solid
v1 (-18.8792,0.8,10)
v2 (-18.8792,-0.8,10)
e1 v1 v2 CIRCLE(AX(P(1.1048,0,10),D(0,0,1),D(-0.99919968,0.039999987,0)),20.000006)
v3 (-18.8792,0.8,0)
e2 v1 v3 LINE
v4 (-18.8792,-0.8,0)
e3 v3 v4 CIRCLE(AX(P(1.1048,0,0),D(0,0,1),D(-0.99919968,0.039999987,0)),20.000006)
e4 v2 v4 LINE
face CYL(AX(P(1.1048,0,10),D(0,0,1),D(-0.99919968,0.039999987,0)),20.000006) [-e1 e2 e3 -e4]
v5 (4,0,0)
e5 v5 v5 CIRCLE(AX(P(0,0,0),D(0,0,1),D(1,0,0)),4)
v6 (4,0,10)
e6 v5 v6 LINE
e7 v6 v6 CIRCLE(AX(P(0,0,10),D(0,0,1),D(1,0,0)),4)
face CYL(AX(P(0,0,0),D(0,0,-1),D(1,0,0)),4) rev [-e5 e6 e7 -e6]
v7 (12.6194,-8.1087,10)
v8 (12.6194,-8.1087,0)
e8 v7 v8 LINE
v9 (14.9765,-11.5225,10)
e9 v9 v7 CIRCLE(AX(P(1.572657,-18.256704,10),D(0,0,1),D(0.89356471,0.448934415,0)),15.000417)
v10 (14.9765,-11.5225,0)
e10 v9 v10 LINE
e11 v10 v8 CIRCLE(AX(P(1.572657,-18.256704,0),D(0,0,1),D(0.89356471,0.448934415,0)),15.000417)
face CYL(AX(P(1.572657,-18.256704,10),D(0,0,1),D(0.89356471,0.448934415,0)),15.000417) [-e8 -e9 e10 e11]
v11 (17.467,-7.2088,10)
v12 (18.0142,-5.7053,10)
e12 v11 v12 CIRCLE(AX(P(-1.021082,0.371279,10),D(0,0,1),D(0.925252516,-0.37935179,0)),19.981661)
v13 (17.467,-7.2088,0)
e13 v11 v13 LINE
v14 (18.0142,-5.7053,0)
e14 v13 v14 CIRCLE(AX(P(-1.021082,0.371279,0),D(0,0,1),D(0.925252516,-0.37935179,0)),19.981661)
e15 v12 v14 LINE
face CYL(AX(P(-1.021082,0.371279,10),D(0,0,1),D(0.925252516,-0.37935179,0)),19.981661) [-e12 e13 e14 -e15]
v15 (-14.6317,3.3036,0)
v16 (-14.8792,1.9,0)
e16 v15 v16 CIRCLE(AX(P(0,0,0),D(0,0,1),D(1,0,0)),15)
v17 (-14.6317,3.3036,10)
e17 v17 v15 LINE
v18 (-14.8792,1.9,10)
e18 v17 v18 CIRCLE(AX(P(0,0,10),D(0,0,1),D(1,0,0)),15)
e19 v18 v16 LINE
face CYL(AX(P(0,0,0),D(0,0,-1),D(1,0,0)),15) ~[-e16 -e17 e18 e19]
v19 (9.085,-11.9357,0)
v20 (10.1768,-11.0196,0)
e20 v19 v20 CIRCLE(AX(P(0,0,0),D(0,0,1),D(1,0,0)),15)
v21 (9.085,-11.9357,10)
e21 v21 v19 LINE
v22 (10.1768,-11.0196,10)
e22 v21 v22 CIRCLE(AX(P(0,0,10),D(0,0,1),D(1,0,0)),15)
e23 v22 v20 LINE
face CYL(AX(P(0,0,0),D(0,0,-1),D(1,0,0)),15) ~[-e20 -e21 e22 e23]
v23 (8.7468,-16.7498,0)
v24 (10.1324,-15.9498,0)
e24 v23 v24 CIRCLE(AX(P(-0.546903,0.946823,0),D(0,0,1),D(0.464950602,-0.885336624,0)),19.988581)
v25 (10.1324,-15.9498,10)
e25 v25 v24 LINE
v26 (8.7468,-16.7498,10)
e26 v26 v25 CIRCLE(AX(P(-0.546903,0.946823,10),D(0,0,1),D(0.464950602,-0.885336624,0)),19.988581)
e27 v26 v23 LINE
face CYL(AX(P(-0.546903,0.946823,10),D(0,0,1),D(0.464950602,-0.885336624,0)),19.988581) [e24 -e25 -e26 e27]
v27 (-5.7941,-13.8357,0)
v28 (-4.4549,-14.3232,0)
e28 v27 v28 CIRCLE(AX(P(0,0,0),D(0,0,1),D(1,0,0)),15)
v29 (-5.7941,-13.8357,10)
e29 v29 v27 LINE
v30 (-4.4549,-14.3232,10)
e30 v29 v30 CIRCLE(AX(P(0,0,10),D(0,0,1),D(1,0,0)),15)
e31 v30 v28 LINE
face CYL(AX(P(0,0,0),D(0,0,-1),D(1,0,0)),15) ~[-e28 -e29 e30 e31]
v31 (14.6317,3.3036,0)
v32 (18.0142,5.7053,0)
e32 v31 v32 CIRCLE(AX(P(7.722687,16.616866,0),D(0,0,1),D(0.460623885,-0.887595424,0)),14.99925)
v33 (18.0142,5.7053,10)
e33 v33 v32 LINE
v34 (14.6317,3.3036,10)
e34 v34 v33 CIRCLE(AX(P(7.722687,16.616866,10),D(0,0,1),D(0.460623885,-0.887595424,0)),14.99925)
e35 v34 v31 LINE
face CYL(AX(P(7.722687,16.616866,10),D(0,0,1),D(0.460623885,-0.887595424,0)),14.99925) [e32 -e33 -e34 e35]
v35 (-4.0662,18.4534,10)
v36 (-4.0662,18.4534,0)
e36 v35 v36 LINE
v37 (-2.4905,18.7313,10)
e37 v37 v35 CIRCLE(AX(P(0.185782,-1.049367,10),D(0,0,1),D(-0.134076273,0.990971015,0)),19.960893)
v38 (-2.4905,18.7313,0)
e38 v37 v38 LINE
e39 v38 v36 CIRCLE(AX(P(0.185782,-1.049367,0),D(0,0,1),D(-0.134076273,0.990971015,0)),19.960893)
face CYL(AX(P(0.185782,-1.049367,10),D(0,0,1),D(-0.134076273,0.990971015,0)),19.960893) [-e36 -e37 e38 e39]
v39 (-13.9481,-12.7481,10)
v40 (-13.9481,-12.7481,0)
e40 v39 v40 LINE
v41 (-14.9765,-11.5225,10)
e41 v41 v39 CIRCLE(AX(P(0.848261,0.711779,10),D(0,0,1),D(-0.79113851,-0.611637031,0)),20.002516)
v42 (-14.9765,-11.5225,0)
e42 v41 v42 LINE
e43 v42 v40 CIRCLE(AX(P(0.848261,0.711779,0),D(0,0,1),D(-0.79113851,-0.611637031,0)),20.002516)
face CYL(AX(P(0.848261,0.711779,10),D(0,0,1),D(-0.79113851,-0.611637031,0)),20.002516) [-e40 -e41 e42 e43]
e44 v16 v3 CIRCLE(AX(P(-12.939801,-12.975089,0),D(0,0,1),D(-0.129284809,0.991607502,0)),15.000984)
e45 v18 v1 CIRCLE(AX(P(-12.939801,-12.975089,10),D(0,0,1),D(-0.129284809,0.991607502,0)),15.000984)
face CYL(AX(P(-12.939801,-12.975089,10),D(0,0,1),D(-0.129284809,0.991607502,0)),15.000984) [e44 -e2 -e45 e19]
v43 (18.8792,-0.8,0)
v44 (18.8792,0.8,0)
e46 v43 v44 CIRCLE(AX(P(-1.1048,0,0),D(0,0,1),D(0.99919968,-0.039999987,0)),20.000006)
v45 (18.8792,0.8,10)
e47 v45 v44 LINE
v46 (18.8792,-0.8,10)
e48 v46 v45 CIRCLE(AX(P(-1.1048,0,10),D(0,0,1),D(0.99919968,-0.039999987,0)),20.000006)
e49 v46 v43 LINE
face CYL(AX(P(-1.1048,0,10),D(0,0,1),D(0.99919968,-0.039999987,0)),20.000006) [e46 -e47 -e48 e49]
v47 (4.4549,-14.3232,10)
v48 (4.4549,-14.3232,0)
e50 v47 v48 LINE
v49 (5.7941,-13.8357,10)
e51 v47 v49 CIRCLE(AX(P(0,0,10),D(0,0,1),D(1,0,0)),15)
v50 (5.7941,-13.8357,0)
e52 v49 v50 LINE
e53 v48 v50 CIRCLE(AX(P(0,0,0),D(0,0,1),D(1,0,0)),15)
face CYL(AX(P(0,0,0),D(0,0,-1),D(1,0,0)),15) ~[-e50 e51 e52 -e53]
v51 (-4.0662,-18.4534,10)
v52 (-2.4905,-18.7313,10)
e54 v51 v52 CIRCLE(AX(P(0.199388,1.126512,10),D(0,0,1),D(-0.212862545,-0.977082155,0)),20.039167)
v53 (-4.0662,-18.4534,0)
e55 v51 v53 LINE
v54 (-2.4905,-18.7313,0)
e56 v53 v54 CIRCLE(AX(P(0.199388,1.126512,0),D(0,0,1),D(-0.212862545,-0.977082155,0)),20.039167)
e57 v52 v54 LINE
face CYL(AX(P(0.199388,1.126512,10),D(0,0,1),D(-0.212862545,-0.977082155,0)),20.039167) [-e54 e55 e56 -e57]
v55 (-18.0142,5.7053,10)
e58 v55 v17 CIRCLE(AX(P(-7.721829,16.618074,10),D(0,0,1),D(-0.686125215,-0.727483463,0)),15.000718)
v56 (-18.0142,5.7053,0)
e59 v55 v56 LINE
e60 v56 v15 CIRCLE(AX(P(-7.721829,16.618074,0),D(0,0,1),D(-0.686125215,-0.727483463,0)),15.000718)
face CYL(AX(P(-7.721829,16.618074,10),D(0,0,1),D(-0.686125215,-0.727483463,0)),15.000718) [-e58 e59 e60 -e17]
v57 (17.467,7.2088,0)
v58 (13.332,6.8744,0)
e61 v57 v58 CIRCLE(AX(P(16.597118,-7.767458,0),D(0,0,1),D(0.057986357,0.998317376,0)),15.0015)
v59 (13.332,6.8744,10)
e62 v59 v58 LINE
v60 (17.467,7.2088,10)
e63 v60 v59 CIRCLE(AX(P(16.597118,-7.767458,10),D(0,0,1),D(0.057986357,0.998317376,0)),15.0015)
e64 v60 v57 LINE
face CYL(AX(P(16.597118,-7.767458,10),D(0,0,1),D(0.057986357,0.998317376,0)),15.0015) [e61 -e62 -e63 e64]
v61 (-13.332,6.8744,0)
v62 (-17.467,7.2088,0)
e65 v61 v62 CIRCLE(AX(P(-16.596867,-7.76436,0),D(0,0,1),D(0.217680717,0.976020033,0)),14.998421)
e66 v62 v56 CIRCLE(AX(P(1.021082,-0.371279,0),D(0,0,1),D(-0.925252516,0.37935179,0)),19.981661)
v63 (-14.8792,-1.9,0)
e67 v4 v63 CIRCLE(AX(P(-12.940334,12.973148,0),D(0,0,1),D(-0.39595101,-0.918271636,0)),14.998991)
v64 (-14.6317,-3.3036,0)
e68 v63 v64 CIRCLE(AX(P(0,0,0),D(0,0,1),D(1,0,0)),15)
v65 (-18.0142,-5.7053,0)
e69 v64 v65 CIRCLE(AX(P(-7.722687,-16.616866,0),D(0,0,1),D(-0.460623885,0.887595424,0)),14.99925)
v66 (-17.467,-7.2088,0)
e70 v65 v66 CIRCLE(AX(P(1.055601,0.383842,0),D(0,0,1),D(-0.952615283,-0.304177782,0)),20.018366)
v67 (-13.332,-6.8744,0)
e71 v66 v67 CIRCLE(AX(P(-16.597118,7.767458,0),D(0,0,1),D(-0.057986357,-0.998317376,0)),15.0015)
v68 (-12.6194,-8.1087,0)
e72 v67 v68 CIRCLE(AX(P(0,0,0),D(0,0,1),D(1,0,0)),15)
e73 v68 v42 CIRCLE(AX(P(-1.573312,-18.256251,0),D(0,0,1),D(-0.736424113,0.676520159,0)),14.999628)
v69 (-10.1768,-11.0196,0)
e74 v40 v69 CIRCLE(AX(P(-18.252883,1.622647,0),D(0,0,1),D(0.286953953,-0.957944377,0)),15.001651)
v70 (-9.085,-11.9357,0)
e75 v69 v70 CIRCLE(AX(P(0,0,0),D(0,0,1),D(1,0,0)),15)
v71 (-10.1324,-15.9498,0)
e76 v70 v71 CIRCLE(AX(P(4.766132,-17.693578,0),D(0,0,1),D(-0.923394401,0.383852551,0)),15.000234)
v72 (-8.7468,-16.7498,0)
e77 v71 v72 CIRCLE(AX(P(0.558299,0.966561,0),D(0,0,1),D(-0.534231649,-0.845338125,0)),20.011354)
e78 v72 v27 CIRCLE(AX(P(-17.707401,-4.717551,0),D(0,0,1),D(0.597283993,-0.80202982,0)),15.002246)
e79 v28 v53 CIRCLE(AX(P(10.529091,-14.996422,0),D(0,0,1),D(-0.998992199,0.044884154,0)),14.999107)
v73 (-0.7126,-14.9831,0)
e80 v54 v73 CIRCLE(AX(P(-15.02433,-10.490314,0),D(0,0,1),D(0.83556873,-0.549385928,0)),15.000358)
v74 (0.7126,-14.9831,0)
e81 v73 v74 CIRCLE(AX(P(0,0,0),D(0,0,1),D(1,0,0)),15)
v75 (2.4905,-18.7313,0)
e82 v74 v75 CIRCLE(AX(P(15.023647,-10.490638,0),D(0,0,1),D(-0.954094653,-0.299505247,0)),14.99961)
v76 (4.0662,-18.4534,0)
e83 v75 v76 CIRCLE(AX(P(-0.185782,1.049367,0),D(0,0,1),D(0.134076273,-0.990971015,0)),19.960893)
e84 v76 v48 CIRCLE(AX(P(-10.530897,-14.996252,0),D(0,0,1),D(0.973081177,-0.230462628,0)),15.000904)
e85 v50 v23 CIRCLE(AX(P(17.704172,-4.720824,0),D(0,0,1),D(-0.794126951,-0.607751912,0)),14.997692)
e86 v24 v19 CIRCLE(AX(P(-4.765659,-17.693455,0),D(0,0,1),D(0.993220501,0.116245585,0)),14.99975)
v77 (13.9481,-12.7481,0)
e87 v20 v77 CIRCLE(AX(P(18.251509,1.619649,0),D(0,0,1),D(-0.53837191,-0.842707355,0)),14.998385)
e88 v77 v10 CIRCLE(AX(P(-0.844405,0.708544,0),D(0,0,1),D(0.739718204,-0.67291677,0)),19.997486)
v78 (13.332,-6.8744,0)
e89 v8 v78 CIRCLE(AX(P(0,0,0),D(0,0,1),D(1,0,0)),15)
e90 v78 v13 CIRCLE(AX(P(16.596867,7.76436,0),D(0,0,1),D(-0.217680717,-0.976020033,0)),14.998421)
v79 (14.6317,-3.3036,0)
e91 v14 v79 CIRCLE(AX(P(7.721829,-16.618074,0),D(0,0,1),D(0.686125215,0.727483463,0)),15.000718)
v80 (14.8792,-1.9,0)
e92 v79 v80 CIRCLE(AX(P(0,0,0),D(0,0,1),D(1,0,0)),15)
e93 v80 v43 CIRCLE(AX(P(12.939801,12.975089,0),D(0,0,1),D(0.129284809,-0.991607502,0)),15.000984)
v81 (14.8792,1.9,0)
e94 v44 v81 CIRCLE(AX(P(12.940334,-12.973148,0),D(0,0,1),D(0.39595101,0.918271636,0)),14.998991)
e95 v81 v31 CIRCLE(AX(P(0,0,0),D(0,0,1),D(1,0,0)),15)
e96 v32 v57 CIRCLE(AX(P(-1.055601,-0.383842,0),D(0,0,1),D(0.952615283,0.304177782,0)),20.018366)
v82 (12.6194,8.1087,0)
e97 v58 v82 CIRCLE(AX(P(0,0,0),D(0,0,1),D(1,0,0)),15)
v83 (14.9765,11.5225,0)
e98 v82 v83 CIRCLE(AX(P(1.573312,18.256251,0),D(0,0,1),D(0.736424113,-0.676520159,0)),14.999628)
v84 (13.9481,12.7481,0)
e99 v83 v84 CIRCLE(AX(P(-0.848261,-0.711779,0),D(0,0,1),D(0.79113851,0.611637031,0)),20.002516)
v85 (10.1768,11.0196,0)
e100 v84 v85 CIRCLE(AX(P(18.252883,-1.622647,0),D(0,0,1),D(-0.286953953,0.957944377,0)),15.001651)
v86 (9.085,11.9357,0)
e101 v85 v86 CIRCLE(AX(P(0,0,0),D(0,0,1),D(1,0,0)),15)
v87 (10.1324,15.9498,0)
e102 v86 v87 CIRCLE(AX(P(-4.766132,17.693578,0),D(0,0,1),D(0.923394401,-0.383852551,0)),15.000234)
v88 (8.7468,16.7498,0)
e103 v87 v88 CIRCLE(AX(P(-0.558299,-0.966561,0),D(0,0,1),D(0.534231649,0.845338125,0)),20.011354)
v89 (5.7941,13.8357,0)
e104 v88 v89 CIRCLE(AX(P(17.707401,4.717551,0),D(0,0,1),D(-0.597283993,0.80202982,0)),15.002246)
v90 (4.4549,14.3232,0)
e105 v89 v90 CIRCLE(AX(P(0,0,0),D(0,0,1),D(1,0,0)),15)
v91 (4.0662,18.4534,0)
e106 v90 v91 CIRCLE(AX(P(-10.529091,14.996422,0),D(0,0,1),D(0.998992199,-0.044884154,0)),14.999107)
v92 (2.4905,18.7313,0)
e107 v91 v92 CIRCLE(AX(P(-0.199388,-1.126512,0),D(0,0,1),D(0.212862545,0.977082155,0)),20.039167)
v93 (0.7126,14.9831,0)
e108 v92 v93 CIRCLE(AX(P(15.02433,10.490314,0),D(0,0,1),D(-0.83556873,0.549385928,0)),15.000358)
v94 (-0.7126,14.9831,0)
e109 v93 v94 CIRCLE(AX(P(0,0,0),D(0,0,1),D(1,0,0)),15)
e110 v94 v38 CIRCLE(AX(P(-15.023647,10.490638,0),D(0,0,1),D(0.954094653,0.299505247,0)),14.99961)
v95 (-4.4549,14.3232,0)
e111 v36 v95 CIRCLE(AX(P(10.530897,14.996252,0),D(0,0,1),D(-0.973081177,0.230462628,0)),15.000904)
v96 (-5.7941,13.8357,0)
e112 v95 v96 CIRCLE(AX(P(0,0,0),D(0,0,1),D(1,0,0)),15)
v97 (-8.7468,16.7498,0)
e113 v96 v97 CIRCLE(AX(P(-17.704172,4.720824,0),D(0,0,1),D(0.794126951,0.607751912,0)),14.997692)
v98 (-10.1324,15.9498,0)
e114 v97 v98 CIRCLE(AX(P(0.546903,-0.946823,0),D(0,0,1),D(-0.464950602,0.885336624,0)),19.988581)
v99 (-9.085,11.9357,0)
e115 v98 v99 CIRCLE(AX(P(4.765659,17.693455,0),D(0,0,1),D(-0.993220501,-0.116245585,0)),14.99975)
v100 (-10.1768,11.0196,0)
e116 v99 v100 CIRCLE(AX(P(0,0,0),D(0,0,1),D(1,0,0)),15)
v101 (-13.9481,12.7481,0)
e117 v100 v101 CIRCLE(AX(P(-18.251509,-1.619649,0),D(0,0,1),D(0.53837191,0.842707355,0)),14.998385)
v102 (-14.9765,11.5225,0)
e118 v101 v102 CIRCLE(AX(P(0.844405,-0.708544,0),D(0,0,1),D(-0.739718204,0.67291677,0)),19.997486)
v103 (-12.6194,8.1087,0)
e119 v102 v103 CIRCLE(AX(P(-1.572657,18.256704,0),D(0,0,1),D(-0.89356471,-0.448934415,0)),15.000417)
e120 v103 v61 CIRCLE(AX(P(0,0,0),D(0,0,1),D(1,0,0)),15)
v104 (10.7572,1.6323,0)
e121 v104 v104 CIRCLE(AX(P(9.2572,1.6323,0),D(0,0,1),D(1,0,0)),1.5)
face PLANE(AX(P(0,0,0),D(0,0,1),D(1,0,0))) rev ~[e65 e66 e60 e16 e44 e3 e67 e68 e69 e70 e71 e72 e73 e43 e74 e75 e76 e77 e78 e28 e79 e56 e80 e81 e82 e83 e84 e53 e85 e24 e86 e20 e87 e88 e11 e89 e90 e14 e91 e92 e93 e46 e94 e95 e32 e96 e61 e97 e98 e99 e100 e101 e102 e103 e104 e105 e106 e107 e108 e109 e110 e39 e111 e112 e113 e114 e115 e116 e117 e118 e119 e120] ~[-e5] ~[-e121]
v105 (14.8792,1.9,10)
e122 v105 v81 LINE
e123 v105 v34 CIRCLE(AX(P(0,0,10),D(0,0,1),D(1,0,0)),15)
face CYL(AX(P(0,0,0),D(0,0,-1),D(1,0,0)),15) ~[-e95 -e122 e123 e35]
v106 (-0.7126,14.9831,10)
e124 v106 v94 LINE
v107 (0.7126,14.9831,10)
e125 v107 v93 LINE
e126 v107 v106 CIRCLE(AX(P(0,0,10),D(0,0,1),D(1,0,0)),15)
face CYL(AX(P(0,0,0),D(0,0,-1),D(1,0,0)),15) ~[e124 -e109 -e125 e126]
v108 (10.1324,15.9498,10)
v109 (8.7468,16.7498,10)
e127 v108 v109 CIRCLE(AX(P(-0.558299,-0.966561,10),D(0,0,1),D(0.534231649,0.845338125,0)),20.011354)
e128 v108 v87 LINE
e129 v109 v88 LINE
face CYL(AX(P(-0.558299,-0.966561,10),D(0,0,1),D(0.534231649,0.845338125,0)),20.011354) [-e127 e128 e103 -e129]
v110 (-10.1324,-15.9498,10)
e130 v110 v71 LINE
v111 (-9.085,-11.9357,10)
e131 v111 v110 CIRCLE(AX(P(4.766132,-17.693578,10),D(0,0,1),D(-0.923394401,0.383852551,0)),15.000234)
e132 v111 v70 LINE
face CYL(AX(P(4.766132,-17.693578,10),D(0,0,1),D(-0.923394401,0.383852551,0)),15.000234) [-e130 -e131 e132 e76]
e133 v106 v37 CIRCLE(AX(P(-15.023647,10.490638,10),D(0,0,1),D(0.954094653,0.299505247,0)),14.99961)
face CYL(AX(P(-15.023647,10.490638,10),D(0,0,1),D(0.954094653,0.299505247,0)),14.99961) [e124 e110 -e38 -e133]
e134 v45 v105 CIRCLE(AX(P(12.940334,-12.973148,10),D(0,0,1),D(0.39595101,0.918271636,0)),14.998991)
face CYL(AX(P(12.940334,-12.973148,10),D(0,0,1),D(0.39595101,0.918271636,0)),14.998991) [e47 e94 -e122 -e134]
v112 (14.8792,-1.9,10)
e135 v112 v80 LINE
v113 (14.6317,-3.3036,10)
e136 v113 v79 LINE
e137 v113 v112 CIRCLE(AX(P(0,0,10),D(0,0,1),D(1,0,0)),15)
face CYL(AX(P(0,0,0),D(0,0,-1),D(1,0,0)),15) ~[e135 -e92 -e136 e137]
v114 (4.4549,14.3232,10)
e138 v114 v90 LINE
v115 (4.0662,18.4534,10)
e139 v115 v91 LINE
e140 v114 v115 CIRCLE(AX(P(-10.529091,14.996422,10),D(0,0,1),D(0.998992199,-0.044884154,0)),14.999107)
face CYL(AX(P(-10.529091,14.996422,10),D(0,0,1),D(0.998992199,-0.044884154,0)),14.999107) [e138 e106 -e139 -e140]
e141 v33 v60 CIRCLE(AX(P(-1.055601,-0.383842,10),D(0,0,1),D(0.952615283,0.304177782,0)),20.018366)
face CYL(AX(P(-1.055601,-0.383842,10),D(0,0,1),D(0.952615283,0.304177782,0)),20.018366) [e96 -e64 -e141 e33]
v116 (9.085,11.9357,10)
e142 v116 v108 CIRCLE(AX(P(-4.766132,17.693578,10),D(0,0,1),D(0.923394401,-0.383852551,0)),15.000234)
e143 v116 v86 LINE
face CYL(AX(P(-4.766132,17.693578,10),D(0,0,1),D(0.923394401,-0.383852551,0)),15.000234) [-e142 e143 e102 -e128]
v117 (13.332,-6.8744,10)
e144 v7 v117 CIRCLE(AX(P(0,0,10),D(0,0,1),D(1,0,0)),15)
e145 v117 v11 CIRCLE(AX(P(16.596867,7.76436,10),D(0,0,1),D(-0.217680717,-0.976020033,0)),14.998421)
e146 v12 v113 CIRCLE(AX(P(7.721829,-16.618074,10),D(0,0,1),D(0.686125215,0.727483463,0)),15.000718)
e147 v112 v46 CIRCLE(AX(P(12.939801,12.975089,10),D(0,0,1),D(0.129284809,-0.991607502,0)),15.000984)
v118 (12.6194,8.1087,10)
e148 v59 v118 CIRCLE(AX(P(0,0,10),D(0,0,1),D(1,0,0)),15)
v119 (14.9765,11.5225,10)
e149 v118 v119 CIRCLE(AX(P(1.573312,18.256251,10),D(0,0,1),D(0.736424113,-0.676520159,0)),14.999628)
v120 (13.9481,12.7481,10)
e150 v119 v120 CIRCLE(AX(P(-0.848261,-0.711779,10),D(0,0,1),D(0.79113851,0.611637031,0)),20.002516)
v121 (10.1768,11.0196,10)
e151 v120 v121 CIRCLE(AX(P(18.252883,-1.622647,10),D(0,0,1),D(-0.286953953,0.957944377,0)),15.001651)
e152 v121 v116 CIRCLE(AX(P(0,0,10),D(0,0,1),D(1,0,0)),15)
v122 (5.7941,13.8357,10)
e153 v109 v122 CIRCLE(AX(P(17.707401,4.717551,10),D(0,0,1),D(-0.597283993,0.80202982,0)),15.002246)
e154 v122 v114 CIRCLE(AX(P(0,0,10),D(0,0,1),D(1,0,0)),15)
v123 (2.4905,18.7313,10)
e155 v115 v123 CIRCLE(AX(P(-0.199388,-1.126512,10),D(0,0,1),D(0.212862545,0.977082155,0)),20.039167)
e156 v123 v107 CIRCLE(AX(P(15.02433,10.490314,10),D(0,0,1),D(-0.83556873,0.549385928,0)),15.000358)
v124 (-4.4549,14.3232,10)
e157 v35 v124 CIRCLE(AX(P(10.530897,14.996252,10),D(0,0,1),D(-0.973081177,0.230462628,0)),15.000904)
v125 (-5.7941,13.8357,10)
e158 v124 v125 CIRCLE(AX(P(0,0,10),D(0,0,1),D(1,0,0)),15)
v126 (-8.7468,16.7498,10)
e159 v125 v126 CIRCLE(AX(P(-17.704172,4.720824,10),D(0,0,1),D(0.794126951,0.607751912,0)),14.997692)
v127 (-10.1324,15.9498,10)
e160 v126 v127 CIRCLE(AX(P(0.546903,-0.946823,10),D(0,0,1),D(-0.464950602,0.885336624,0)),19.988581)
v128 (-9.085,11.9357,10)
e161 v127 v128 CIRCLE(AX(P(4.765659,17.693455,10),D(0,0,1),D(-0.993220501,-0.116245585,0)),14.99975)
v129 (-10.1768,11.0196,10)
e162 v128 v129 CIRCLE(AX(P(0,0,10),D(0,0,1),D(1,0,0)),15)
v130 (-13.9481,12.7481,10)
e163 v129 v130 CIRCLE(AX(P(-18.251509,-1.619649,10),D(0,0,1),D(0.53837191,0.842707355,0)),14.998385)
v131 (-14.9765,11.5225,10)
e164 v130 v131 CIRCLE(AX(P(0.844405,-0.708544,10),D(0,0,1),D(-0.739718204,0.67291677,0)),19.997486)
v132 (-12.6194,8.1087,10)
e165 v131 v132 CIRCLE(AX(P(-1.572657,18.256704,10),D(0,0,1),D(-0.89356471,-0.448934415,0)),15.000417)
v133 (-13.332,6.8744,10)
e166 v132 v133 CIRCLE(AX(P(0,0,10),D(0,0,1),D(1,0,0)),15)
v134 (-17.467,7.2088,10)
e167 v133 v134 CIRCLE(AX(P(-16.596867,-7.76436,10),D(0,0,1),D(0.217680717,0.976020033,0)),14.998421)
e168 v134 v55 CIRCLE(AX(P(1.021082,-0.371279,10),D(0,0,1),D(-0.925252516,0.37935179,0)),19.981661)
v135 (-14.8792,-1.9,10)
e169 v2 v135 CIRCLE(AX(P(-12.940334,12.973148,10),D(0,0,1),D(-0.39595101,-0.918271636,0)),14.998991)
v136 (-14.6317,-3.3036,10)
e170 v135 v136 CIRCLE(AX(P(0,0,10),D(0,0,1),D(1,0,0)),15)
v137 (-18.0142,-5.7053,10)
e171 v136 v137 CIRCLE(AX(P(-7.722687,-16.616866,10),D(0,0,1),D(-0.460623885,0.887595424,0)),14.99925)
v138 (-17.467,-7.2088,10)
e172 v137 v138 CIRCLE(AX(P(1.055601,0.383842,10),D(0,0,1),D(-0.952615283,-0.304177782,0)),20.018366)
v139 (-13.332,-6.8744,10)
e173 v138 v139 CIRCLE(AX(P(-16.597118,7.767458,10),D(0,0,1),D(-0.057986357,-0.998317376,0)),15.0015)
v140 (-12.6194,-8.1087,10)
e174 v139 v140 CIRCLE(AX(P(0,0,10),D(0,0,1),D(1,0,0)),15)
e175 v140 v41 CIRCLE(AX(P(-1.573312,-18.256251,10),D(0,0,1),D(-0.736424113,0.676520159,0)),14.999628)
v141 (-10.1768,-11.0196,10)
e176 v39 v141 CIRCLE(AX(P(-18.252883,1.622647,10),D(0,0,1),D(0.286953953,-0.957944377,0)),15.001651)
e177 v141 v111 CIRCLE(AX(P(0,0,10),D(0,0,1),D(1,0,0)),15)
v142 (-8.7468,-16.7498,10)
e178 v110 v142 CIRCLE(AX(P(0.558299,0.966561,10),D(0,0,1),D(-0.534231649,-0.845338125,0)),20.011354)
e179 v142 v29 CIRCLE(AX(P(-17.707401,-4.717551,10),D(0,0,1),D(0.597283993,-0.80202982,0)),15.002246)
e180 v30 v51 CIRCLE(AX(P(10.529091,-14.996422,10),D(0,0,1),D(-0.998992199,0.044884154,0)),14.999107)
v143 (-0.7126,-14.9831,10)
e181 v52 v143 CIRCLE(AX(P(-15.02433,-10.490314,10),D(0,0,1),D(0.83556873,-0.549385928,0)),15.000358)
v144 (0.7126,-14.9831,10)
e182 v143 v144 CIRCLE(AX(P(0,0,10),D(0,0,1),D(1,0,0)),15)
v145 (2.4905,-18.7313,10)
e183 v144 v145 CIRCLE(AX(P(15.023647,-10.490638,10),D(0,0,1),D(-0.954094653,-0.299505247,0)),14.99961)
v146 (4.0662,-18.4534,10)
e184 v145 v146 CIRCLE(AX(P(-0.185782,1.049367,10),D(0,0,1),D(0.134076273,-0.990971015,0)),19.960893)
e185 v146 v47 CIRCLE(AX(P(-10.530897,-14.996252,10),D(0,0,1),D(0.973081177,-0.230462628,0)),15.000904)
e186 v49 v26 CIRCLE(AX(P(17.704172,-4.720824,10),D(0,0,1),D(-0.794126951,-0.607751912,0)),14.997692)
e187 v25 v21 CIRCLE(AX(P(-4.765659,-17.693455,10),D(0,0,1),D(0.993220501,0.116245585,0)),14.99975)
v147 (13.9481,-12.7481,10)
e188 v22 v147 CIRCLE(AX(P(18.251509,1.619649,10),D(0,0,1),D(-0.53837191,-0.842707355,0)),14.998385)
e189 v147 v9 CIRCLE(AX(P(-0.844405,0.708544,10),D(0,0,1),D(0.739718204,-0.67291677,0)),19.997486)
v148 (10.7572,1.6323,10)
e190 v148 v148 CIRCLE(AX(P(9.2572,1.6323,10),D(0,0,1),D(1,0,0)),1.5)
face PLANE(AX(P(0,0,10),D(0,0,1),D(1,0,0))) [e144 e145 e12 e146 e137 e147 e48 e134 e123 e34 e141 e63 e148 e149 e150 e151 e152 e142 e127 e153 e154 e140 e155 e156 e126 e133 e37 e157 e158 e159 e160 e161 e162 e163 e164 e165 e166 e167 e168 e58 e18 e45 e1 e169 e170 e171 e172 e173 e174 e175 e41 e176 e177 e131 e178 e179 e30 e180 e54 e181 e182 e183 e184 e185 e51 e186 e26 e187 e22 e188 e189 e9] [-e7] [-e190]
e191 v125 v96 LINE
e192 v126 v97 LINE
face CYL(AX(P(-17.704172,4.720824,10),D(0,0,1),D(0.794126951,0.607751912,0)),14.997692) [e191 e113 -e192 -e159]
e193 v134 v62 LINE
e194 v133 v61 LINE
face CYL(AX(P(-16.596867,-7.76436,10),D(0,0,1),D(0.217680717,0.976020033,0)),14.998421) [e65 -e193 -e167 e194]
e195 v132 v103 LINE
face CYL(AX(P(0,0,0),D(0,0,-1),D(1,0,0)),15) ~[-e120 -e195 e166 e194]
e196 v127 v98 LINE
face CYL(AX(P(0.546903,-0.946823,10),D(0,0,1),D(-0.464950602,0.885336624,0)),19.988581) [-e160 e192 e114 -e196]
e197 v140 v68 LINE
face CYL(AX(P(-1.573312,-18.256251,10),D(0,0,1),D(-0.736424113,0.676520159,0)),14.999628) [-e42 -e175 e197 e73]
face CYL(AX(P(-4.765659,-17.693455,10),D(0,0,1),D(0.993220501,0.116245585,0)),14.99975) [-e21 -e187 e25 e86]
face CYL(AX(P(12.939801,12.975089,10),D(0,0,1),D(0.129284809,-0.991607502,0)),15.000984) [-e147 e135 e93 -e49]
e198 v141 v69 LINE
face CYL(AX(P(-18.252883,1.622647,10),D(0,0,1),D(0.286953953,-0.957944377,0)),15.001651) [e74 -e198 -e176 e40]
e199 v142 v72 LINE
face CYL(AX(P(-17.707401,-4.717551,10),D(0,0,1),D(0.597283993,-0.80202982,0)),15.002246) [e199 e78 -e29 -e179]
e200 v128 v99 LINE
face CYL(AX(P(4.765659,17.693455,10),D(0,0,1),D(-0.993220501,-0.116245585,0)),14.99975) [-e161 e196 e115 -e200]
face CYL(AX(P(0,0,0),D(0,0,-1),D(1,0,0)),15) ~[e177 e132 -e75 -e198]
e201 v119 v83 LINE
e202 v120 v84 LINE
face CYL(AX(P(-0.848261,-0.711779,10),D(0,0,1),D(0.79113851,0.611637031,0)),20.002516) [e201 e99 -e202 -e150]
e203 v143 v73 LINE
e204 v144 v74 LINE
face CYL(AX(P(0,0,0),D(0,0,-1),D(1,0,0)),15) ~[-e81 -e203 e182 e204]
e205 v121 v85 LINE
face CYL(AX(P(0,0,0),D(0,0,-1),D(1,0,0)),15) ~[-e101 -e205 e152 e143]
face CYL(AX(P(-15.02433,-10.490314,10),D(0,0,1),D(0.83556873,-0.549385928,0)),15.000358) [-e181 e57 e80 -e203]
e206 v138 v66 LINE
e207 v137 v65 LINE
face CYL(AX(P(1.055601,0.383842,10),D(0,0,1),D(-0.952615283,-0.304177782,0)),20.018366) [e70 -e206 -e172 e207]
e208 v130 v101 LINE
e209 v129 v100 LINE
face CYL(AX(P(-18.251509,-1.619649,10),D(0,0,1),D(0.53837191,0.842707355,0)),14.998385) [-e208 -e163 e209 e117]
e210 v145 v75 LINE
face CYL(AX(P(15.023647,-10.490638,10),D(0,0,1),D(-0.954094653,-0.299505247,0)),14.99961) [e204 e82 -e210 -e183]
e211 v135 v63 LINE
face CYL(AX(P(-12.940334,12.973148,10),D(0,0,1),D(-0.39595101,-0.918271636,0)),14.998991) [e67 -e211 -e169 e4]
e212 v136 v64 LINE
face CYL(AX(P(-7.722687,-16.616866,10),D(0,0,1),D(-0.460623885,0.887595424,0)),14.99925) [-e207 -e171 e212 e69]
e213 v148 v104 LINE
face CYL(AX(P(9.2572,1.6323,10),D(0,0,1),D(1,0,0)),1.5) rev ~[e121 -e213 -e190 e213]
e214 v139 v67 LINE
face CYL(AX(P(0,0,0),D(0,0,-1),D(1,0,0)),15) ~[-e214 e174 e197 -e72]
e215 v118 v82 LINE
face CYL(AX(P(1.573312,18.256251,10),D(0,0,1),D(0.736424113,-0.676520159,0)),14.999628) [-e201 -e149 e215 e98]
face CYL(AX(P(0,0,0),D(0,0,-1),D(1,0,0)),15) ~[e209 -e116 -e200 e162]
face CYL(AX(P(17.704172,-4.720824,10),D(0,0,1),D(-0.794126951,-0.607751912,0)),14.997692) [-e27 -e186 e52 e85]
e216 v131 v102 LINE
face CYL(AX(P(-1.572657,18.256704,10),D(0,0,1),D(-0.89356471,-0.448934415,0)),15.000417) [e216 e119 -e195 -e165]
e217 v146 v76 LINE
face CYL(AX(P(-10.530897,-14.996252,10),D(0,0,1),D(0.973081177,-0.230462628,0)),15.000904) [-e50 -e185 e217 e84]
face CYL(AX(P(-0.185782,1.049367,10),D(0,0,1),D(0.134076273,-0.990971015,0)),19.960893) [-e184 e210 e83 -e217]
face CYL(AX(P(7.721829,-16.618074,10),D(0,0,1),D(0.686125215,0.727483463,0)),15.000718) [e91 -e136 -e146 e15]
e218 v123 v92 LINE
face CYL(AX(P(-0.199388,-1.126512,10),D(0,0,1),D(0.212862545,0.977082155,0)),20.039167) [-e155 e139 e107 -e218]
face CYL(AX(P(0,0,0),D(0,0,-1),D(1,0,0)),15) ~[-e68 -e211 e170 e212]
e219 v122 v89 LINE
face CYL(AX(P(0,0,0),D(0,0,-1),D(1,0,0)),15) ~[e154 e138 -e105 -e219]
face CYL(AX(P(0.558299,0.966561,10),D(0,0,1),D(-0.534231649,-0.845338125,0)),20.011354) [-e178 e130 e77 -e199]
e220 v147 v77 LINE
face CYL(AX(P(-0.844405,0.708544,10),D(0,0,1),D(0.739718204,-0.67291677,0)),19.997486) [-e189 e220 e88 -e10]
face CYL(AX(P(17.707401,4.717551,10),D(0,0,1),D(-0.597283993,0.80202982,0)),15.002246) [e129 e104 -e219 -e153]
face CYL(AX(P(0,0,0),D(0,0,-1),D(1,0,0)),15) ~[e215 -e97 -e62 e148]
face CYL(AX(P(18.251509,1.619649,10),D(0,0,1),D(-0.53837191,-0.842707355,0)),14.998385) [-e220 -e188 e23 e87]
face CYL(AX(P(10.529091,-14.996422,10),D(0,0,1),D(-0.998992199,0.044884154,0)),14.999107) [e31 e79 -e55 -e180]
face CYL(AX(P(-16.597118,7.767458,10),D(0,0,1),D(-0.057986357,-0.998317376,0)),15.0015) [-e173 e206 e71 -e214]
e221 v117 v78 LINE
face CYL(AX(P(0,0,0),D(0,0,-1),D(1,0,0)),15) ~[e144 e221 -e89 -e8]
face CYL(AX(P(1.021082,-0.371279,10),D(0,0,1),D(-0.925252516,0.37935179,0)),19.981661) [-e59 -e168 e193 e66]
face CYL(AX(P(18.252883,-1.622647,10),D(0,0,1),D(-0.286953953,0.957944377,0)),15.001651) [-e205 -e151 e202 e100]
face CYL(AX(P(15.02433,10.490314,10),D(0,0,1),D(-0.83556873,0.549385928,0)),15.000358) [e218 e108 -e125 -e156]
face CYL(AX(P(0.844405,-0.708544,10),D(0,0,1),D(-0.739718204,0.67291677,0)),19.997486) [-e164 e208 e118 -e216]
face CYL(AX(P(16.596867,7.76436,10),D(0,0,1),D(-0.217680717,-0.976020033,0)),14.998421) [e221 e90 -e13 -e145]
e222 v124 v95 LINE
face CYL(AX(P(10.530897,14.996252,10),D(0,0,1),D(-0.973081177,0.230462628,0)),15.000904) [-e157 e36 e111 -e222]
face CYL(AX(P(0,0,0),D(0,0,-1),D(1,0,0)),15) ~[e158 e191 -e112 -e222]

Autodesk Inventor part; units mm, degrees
ref_plane "YZ Plane" through (0, 0, 0) normal (1, 0, 0) x (0, 1, 0)
ref_plane "XZ Plane" through (0, 0, 0) normal (0, 1, 0) x (-1, 0, 0)
ref_plane "XY Plane" through (0, 0, 0) normal (0, 0, 1) x (1, 0, 0)
sketch "Sketch1" plane through (0, 0, 0) normal (0, 0, 1) x (1, 0, 0)
  circle A0 centre (0, 0) radius 15
  circle A1 centre (0, 0) radius 4
  dimension "d0" = 30
  dimension "d1" = 8
extrude "Extrusion1" add sketch "Sketch1" along normal blind 10
sketch "Sketch3" plane through (0, 0, 10) normal (0, 0, 1) x (1, 0, 0)
  line L0 (0, 0) -> (25, 0) construction
  arc A0 (18.8792, 0.8) -> (14.8792, 1.9) centre (12.94, -12.9741) ccw
  circle A1 centre (0, 0) radius 15 projected
  arc A2 (18.8792, -0.8) -> (18.8792, 0.8) centre (-1.1048, 0) ccw
  arc A3 (14.8792, -1.9) -> (18.8792, -0.8) centre (12.94, 12.9741) ccw
  arc A4 (14.8792, -1.9) -> (14.8792, 1.9) centre (0, 0) ccw
  arc A5 (17.467, 7.2088) -> (13.332, 6.8744) centre (16.5971, -7.7659) ccw
  arc A6 (18.0142, 5.7053) -> (17.467, 7.2088) centre (-1.0382, -0.3779) ccw
  arc A7 (14.6317, 3.3036) -> (18.0142, 5.7053) centre (7.7223, 16.6175) ccw
  arc A8 (14.6317, 3.3036) -> (13.332, 6.8744) centre (0, 0) ccw
  arc A9 (13.9481, 12.7481) -> (10.1768, 11.0196) centre (18.2523, -1.6211) ccw
  arc A10 (14.9765, 11.5225) -> (13.9481, 12.7481) centre (-0.8463, -0.7102) ccw
  arc A11 (12.6194, 8.1087) -> (14.9765, 11.5225) centre (1.573, 18.2565) ccw
  arc A12 (12.6194, 8.1087) -> (10.1768, 11.0196) centre (0, 0) ccw
  arc A13 (8.7468, 16.7498) -> (5.7941, 13.8357) centre (17.7059, 4.7193) ccw
  arc A14 (10.1324, 15.9498) -> (8.7468, 16.7498) centre (-0.5524, -0.9568) ccw
  arc A15 (9.085, 11.9357) -> (10.1324, 15.9498) centre (-4.7659, 17.6935) ccw
  arc A16 (9.085, 11.9357) -> (5.7941, 13.8357) centre (0, 0) ccw
  arc A17 (2.4905, 18.7313) -> (0.7126, 14.9831) centre (15.024, 10.4905) ccw
  arc A18 (4.0662, 18.4534) -> (2.4905, 18.7313) centre (-0.1918, -1.088) ccw
  arc A19 (4.4549, 14.3232) -> (4.0662, 18.4534) centre (-10.53, 14.9964) ccw
  arc A20 (4.4549, 14.3232) -> (0.7126, 14.9831) centre (0, 0) ccw
  arc A21 (-4.0662, 18.4534) -> (-4.4549, 14.3232) centre (10.53, 14.9964) ccw
  arc A22 (-2.4905, 18.7313) -> (-4.0662, 18.4534) centre (0.1918, -1.088) ccw
  arc A23 (-0.7126, 14.9831) -> (-2.4905, 18.7313) centre (-15.024, 10.4905) ccw
  arc A24 (-0.7126, 14.9831) -> (-4.4549, 14.3232) centre (0, 0) ccw
  arc A25 (-10.1324, 15.9498) -> (-9.085, 11.9357) centre (4.7659, 17.6935) ccw
  arc A26 (-8.7468, 16.7498) -> (-10.1324, 15.9498) centre (0.5524, -0.9568) ccw
  arc A27 (-5.7941, 13.8357) -> (-8.7468, 16.7498) centre (-17.7059, 4.7193) ccw
  arc A28 (-5.7941, 13.8357) -> (-9.085, 11.9357) centre (0, 0) ccw
  arc A29 (-14.9765, 11.5225) -> (-12.6194, 8.1087) centre (-1.573, 18.2565) ccw
  arc A30 (-13.9481, 12.7481) -> (-14.9765, 11.5225) centre (0.8463, -0.7102) ccw
  arc A31 (-10.1768, 11.0196) -> (-13.9481, 12.7481) centre (-18.2523, -1.6211) ccw
  arc A32 (-10.1768, 11.0196) -> (-12.6194, 8.1087) centre (0, 0) ccw
  arc A33 (-18.0142, 5.7053) -> (-14.6317, 3.3036) centre (-7.7223, 16.6175) ccw
  arc A34 (-17.467, 7.2088) -> (-18.0142, 5.7053) centre (1.0382, -0.3779) ccw
  arc A35 (-13.332, 6.8744) -> (-17.467, 7.2088) centre (-16.5971, -7.7659) ccw
  arc A36 (-13.332, 6.8744) -> (-14.6317, 3.3036) centre (0, 0) ccw
  arc A37 (-18.8792, -0.8) -> (-14.8792, -1.9) centre (-12.94, 12.9741) ccw
  arc A38 (-18.8792, 0.8) -> (-18.8792, -0.8) centre (1.1048, 0) ccw
  arc A39 (-14.8792, 1.9) -> (-18.8792, 0.8) centre (-12.94, -12.9741) ccw
  arc A40 (-14.8792, 1.9) -> (-14.8792, -1.9) centre (0, 0) ccw
  arc A41 (-17.467, -7.2088) -> (-13.332, -6.8744) centre (-16.5971, 7.7659) ccw
  arc A42 (-18.0142, -5.7053) -> (-17.467, -7.2088) centre (1.0382, 0.3779) ccw
  arc A43 (-14.6317, -3.3036) -> (-18.0142, -5.7053) centre (-7.7223, -16.6175) ccw
  arc A44 (-14.6317, -3.3036) -> (-13.332, -6.8744) centre (0, 0) ccw
  arc A45 (-13.9481, -12.7481) -> (-10.1768, -11.0196) centre (-18.2523, 1.6211) ccw
  arc A46 (-14.9765, -11.5225) -> (-13.9481, -12.7481) centre (0.8463, 0.7102) ccw
  arc A47 (-12.6194, -8.1087) -> (-14.9765, -11.5225) centre (-1.573, -18.2565) ccw
  arc A48 (-12.6194, -8.1087) -> (-10.1768, -11.0196) centre (0, 0) ccw
  arc A49 (-8.7468, -16.7498) -> (-5.7941, -13.8357) centre (-17.7059, -4.7193) ccw
  arc A50 (-10.1324, -15.9498) -> (-8.7468, -16.7498) centre (0.5524, 0.9568) ccw
  arc A51 (-9.085, -11.9357) -> (-10.1324, -15.9498) centre (4.7659, -17.6935) ccw
  arc A52 (-9.085, -11.9357) -> (-5.7941, -13.8357) centre (0, 0) ccw
  arc A53 (-2.4905, -18.7313) -> (-0.7126, -14.9831) centre (-15.024, -10.4905) ccw
  arc A54 (-4.0662, -18.4534) -> (-2.4905, -18.7313) centre (0.1918, 1.088) ccw
  arc A55 (-4.4549, -14.3232) -> (-4.0662, -18.4534) centre (10.53, -14.9964) ccw
  arc A56 (-4.4549, -14.3232) -> (-0.7126, -14.9831) centre (0, 0) ccw
  arc A57 (4.0662, -18.4534) -> (4.4549, -14.3232) centre (-10.53, -14.9964) ccw
  arc A58 (2.4905, -18.7313) -> (4.0662, -18.4534) centre (-0.1918, 1.088) ccw
  arc A59 (0.7126, -14.9831) -> (2.4905, -18.7313) centre (15.024, -10.4905) ccw
  arc A60 (0.7126, -14.9831) -> (4.4549, -14.3232) centre (0, 0) ccw
  arc A61 (10.1324, -15.9498) -> (9.085, -11.9357) centre (-4.7659, -17.6935) ccw
  arc A62 (8.7468, -16.7498) -> (10.1324, -15.9498) centre (-0.5524, 0.9568) ccw
  arc A63 (5.7941, -13.8357) -> (8.7468, -16.7498) centre (17.7059, -4.7193) ccw
  arc A64 (5.7941, -13.8357) -> (9.085, -11.9357) centre (0, 0) ccw
  arc A65 (14.9765, -11.5225) -> (12.6194, -8.1087) centre (1.573, -18.2565) ccw
  arc A66 (13.9481, -12.7481) -> (14.9765, -11.5225) centre (-0.8463, 0.7102) ccw
  arc A67 (10.1768, -11.0196) -> (13.9481, -12.7481) centre (18.2523, 1.6211) ccw
  arc A68 (10.1768, -11.0196) -> (12.6194, -8.1087) centre (0, 0) ccw
  arc A69 (18.0142, -5.7053) -> (14.6317, -3.3036) centre (7.7223, -16.6175) ccw
  arc A70 (17.467, -7.2088) -> (18.0142, -5.7053) centre (-1.0382, 0.3779) ccw
  arc A71 (13.332, -6.8744) -> (17.467, -7.2088) centre (16.5971, 7.7659) ccw
  arc A72 (13.332, -6.8744) -> (14.6317, -3.3036) centre (0, 0) ccw
  point P0 (18.8952, 0)
  point P1 (17.7557, 6.4625)
  point P2 (14.4746, 12.1456)
  point P3 (9.4476, 16.3637)
  point P4 (3.2811, 18.6081)
  point P5 (-3.2811, 18.6081)
  point P6 (-9.4476, 16.3637)
  point P7 (-14.4746, 12.1456)
  point P8 (-17.7557, 6.4625)
  point P9 (-18.8952, 0)
  point P10 (-17.7557, -6.4625)
  point P11 (-14.4746, -12.1456)
  point P12 (-9.4476, -16.3637)
  point P13 (-3.2811, -18.6081)
  point P14 (3.2811, -18.6081)
  point P15 (9.4476, -16.3637)
  point P16 (14.4746, -12.1456)
  point P17 (17.7557, -6.4625)
  dimension "d8" = 25
  dimension "d9" = 15
  dimension "d10" = 1.6
  dimension "d11" = 20
  dimension "d12" = 4
  dimension "d13" = 1.1
  dimension "d14" = 15
  dimension "d15" = 1.1
  dimension "d16" = 4
  dimension "d19" = 360
extrude "Extrusion3" add sketch "Sketch3" against normal blind 10 contours A2 A3 A1 A0 | A1 A5 A6 A7 | A69 A70 A71 A1 | A1 A9 A10 A11 | A65 A66 A67 A1 | A1 A13 A14 A15 | A61 A62 A63 A1 | A1 A17 A18 A19 | A57 A58 A59 A1 | A1 A21 A22 A23 | A53 A54 A55 A1 | A1 A25 A26 A27 | A49 A50 A51 A1 | A1 A29 A30 A31 | A45 A46 A47 A1 | A1 A33 A34 A35 | A41 A42 A43 A1 | A1 A37 A38 A39
sketch "Sketch2" plane through (0, 0, 10) normal (0, 0, 1) x (1, 0, 0)
  circle A0 centre (9.2572, 1.6323) radius 1.5
  circle A1 centre (0, 0) radius 15 construction
  circle A2 centre (0, 0) radius 4 construction
  circle A3 centre (0, 0) radius 4 construction
  circle A4 centre (0, 0) radius 15 construction
  arc A5 (14.8792, 1.9) -> (14.6317, 3.3036) centre (0, 0) ccw
  line L0 (0, 0) -> (3.9392, 0.6946) construction
  line L1 (0, 0) -> (14.7721, 2.6047) construction
  dimension "d4" = 3
  dimension "d24" = 9.4
extrude "Extrusion2" cut sketch "Sketch2" against normal through all
properties part number "GA002" material "ABS Plastic"
